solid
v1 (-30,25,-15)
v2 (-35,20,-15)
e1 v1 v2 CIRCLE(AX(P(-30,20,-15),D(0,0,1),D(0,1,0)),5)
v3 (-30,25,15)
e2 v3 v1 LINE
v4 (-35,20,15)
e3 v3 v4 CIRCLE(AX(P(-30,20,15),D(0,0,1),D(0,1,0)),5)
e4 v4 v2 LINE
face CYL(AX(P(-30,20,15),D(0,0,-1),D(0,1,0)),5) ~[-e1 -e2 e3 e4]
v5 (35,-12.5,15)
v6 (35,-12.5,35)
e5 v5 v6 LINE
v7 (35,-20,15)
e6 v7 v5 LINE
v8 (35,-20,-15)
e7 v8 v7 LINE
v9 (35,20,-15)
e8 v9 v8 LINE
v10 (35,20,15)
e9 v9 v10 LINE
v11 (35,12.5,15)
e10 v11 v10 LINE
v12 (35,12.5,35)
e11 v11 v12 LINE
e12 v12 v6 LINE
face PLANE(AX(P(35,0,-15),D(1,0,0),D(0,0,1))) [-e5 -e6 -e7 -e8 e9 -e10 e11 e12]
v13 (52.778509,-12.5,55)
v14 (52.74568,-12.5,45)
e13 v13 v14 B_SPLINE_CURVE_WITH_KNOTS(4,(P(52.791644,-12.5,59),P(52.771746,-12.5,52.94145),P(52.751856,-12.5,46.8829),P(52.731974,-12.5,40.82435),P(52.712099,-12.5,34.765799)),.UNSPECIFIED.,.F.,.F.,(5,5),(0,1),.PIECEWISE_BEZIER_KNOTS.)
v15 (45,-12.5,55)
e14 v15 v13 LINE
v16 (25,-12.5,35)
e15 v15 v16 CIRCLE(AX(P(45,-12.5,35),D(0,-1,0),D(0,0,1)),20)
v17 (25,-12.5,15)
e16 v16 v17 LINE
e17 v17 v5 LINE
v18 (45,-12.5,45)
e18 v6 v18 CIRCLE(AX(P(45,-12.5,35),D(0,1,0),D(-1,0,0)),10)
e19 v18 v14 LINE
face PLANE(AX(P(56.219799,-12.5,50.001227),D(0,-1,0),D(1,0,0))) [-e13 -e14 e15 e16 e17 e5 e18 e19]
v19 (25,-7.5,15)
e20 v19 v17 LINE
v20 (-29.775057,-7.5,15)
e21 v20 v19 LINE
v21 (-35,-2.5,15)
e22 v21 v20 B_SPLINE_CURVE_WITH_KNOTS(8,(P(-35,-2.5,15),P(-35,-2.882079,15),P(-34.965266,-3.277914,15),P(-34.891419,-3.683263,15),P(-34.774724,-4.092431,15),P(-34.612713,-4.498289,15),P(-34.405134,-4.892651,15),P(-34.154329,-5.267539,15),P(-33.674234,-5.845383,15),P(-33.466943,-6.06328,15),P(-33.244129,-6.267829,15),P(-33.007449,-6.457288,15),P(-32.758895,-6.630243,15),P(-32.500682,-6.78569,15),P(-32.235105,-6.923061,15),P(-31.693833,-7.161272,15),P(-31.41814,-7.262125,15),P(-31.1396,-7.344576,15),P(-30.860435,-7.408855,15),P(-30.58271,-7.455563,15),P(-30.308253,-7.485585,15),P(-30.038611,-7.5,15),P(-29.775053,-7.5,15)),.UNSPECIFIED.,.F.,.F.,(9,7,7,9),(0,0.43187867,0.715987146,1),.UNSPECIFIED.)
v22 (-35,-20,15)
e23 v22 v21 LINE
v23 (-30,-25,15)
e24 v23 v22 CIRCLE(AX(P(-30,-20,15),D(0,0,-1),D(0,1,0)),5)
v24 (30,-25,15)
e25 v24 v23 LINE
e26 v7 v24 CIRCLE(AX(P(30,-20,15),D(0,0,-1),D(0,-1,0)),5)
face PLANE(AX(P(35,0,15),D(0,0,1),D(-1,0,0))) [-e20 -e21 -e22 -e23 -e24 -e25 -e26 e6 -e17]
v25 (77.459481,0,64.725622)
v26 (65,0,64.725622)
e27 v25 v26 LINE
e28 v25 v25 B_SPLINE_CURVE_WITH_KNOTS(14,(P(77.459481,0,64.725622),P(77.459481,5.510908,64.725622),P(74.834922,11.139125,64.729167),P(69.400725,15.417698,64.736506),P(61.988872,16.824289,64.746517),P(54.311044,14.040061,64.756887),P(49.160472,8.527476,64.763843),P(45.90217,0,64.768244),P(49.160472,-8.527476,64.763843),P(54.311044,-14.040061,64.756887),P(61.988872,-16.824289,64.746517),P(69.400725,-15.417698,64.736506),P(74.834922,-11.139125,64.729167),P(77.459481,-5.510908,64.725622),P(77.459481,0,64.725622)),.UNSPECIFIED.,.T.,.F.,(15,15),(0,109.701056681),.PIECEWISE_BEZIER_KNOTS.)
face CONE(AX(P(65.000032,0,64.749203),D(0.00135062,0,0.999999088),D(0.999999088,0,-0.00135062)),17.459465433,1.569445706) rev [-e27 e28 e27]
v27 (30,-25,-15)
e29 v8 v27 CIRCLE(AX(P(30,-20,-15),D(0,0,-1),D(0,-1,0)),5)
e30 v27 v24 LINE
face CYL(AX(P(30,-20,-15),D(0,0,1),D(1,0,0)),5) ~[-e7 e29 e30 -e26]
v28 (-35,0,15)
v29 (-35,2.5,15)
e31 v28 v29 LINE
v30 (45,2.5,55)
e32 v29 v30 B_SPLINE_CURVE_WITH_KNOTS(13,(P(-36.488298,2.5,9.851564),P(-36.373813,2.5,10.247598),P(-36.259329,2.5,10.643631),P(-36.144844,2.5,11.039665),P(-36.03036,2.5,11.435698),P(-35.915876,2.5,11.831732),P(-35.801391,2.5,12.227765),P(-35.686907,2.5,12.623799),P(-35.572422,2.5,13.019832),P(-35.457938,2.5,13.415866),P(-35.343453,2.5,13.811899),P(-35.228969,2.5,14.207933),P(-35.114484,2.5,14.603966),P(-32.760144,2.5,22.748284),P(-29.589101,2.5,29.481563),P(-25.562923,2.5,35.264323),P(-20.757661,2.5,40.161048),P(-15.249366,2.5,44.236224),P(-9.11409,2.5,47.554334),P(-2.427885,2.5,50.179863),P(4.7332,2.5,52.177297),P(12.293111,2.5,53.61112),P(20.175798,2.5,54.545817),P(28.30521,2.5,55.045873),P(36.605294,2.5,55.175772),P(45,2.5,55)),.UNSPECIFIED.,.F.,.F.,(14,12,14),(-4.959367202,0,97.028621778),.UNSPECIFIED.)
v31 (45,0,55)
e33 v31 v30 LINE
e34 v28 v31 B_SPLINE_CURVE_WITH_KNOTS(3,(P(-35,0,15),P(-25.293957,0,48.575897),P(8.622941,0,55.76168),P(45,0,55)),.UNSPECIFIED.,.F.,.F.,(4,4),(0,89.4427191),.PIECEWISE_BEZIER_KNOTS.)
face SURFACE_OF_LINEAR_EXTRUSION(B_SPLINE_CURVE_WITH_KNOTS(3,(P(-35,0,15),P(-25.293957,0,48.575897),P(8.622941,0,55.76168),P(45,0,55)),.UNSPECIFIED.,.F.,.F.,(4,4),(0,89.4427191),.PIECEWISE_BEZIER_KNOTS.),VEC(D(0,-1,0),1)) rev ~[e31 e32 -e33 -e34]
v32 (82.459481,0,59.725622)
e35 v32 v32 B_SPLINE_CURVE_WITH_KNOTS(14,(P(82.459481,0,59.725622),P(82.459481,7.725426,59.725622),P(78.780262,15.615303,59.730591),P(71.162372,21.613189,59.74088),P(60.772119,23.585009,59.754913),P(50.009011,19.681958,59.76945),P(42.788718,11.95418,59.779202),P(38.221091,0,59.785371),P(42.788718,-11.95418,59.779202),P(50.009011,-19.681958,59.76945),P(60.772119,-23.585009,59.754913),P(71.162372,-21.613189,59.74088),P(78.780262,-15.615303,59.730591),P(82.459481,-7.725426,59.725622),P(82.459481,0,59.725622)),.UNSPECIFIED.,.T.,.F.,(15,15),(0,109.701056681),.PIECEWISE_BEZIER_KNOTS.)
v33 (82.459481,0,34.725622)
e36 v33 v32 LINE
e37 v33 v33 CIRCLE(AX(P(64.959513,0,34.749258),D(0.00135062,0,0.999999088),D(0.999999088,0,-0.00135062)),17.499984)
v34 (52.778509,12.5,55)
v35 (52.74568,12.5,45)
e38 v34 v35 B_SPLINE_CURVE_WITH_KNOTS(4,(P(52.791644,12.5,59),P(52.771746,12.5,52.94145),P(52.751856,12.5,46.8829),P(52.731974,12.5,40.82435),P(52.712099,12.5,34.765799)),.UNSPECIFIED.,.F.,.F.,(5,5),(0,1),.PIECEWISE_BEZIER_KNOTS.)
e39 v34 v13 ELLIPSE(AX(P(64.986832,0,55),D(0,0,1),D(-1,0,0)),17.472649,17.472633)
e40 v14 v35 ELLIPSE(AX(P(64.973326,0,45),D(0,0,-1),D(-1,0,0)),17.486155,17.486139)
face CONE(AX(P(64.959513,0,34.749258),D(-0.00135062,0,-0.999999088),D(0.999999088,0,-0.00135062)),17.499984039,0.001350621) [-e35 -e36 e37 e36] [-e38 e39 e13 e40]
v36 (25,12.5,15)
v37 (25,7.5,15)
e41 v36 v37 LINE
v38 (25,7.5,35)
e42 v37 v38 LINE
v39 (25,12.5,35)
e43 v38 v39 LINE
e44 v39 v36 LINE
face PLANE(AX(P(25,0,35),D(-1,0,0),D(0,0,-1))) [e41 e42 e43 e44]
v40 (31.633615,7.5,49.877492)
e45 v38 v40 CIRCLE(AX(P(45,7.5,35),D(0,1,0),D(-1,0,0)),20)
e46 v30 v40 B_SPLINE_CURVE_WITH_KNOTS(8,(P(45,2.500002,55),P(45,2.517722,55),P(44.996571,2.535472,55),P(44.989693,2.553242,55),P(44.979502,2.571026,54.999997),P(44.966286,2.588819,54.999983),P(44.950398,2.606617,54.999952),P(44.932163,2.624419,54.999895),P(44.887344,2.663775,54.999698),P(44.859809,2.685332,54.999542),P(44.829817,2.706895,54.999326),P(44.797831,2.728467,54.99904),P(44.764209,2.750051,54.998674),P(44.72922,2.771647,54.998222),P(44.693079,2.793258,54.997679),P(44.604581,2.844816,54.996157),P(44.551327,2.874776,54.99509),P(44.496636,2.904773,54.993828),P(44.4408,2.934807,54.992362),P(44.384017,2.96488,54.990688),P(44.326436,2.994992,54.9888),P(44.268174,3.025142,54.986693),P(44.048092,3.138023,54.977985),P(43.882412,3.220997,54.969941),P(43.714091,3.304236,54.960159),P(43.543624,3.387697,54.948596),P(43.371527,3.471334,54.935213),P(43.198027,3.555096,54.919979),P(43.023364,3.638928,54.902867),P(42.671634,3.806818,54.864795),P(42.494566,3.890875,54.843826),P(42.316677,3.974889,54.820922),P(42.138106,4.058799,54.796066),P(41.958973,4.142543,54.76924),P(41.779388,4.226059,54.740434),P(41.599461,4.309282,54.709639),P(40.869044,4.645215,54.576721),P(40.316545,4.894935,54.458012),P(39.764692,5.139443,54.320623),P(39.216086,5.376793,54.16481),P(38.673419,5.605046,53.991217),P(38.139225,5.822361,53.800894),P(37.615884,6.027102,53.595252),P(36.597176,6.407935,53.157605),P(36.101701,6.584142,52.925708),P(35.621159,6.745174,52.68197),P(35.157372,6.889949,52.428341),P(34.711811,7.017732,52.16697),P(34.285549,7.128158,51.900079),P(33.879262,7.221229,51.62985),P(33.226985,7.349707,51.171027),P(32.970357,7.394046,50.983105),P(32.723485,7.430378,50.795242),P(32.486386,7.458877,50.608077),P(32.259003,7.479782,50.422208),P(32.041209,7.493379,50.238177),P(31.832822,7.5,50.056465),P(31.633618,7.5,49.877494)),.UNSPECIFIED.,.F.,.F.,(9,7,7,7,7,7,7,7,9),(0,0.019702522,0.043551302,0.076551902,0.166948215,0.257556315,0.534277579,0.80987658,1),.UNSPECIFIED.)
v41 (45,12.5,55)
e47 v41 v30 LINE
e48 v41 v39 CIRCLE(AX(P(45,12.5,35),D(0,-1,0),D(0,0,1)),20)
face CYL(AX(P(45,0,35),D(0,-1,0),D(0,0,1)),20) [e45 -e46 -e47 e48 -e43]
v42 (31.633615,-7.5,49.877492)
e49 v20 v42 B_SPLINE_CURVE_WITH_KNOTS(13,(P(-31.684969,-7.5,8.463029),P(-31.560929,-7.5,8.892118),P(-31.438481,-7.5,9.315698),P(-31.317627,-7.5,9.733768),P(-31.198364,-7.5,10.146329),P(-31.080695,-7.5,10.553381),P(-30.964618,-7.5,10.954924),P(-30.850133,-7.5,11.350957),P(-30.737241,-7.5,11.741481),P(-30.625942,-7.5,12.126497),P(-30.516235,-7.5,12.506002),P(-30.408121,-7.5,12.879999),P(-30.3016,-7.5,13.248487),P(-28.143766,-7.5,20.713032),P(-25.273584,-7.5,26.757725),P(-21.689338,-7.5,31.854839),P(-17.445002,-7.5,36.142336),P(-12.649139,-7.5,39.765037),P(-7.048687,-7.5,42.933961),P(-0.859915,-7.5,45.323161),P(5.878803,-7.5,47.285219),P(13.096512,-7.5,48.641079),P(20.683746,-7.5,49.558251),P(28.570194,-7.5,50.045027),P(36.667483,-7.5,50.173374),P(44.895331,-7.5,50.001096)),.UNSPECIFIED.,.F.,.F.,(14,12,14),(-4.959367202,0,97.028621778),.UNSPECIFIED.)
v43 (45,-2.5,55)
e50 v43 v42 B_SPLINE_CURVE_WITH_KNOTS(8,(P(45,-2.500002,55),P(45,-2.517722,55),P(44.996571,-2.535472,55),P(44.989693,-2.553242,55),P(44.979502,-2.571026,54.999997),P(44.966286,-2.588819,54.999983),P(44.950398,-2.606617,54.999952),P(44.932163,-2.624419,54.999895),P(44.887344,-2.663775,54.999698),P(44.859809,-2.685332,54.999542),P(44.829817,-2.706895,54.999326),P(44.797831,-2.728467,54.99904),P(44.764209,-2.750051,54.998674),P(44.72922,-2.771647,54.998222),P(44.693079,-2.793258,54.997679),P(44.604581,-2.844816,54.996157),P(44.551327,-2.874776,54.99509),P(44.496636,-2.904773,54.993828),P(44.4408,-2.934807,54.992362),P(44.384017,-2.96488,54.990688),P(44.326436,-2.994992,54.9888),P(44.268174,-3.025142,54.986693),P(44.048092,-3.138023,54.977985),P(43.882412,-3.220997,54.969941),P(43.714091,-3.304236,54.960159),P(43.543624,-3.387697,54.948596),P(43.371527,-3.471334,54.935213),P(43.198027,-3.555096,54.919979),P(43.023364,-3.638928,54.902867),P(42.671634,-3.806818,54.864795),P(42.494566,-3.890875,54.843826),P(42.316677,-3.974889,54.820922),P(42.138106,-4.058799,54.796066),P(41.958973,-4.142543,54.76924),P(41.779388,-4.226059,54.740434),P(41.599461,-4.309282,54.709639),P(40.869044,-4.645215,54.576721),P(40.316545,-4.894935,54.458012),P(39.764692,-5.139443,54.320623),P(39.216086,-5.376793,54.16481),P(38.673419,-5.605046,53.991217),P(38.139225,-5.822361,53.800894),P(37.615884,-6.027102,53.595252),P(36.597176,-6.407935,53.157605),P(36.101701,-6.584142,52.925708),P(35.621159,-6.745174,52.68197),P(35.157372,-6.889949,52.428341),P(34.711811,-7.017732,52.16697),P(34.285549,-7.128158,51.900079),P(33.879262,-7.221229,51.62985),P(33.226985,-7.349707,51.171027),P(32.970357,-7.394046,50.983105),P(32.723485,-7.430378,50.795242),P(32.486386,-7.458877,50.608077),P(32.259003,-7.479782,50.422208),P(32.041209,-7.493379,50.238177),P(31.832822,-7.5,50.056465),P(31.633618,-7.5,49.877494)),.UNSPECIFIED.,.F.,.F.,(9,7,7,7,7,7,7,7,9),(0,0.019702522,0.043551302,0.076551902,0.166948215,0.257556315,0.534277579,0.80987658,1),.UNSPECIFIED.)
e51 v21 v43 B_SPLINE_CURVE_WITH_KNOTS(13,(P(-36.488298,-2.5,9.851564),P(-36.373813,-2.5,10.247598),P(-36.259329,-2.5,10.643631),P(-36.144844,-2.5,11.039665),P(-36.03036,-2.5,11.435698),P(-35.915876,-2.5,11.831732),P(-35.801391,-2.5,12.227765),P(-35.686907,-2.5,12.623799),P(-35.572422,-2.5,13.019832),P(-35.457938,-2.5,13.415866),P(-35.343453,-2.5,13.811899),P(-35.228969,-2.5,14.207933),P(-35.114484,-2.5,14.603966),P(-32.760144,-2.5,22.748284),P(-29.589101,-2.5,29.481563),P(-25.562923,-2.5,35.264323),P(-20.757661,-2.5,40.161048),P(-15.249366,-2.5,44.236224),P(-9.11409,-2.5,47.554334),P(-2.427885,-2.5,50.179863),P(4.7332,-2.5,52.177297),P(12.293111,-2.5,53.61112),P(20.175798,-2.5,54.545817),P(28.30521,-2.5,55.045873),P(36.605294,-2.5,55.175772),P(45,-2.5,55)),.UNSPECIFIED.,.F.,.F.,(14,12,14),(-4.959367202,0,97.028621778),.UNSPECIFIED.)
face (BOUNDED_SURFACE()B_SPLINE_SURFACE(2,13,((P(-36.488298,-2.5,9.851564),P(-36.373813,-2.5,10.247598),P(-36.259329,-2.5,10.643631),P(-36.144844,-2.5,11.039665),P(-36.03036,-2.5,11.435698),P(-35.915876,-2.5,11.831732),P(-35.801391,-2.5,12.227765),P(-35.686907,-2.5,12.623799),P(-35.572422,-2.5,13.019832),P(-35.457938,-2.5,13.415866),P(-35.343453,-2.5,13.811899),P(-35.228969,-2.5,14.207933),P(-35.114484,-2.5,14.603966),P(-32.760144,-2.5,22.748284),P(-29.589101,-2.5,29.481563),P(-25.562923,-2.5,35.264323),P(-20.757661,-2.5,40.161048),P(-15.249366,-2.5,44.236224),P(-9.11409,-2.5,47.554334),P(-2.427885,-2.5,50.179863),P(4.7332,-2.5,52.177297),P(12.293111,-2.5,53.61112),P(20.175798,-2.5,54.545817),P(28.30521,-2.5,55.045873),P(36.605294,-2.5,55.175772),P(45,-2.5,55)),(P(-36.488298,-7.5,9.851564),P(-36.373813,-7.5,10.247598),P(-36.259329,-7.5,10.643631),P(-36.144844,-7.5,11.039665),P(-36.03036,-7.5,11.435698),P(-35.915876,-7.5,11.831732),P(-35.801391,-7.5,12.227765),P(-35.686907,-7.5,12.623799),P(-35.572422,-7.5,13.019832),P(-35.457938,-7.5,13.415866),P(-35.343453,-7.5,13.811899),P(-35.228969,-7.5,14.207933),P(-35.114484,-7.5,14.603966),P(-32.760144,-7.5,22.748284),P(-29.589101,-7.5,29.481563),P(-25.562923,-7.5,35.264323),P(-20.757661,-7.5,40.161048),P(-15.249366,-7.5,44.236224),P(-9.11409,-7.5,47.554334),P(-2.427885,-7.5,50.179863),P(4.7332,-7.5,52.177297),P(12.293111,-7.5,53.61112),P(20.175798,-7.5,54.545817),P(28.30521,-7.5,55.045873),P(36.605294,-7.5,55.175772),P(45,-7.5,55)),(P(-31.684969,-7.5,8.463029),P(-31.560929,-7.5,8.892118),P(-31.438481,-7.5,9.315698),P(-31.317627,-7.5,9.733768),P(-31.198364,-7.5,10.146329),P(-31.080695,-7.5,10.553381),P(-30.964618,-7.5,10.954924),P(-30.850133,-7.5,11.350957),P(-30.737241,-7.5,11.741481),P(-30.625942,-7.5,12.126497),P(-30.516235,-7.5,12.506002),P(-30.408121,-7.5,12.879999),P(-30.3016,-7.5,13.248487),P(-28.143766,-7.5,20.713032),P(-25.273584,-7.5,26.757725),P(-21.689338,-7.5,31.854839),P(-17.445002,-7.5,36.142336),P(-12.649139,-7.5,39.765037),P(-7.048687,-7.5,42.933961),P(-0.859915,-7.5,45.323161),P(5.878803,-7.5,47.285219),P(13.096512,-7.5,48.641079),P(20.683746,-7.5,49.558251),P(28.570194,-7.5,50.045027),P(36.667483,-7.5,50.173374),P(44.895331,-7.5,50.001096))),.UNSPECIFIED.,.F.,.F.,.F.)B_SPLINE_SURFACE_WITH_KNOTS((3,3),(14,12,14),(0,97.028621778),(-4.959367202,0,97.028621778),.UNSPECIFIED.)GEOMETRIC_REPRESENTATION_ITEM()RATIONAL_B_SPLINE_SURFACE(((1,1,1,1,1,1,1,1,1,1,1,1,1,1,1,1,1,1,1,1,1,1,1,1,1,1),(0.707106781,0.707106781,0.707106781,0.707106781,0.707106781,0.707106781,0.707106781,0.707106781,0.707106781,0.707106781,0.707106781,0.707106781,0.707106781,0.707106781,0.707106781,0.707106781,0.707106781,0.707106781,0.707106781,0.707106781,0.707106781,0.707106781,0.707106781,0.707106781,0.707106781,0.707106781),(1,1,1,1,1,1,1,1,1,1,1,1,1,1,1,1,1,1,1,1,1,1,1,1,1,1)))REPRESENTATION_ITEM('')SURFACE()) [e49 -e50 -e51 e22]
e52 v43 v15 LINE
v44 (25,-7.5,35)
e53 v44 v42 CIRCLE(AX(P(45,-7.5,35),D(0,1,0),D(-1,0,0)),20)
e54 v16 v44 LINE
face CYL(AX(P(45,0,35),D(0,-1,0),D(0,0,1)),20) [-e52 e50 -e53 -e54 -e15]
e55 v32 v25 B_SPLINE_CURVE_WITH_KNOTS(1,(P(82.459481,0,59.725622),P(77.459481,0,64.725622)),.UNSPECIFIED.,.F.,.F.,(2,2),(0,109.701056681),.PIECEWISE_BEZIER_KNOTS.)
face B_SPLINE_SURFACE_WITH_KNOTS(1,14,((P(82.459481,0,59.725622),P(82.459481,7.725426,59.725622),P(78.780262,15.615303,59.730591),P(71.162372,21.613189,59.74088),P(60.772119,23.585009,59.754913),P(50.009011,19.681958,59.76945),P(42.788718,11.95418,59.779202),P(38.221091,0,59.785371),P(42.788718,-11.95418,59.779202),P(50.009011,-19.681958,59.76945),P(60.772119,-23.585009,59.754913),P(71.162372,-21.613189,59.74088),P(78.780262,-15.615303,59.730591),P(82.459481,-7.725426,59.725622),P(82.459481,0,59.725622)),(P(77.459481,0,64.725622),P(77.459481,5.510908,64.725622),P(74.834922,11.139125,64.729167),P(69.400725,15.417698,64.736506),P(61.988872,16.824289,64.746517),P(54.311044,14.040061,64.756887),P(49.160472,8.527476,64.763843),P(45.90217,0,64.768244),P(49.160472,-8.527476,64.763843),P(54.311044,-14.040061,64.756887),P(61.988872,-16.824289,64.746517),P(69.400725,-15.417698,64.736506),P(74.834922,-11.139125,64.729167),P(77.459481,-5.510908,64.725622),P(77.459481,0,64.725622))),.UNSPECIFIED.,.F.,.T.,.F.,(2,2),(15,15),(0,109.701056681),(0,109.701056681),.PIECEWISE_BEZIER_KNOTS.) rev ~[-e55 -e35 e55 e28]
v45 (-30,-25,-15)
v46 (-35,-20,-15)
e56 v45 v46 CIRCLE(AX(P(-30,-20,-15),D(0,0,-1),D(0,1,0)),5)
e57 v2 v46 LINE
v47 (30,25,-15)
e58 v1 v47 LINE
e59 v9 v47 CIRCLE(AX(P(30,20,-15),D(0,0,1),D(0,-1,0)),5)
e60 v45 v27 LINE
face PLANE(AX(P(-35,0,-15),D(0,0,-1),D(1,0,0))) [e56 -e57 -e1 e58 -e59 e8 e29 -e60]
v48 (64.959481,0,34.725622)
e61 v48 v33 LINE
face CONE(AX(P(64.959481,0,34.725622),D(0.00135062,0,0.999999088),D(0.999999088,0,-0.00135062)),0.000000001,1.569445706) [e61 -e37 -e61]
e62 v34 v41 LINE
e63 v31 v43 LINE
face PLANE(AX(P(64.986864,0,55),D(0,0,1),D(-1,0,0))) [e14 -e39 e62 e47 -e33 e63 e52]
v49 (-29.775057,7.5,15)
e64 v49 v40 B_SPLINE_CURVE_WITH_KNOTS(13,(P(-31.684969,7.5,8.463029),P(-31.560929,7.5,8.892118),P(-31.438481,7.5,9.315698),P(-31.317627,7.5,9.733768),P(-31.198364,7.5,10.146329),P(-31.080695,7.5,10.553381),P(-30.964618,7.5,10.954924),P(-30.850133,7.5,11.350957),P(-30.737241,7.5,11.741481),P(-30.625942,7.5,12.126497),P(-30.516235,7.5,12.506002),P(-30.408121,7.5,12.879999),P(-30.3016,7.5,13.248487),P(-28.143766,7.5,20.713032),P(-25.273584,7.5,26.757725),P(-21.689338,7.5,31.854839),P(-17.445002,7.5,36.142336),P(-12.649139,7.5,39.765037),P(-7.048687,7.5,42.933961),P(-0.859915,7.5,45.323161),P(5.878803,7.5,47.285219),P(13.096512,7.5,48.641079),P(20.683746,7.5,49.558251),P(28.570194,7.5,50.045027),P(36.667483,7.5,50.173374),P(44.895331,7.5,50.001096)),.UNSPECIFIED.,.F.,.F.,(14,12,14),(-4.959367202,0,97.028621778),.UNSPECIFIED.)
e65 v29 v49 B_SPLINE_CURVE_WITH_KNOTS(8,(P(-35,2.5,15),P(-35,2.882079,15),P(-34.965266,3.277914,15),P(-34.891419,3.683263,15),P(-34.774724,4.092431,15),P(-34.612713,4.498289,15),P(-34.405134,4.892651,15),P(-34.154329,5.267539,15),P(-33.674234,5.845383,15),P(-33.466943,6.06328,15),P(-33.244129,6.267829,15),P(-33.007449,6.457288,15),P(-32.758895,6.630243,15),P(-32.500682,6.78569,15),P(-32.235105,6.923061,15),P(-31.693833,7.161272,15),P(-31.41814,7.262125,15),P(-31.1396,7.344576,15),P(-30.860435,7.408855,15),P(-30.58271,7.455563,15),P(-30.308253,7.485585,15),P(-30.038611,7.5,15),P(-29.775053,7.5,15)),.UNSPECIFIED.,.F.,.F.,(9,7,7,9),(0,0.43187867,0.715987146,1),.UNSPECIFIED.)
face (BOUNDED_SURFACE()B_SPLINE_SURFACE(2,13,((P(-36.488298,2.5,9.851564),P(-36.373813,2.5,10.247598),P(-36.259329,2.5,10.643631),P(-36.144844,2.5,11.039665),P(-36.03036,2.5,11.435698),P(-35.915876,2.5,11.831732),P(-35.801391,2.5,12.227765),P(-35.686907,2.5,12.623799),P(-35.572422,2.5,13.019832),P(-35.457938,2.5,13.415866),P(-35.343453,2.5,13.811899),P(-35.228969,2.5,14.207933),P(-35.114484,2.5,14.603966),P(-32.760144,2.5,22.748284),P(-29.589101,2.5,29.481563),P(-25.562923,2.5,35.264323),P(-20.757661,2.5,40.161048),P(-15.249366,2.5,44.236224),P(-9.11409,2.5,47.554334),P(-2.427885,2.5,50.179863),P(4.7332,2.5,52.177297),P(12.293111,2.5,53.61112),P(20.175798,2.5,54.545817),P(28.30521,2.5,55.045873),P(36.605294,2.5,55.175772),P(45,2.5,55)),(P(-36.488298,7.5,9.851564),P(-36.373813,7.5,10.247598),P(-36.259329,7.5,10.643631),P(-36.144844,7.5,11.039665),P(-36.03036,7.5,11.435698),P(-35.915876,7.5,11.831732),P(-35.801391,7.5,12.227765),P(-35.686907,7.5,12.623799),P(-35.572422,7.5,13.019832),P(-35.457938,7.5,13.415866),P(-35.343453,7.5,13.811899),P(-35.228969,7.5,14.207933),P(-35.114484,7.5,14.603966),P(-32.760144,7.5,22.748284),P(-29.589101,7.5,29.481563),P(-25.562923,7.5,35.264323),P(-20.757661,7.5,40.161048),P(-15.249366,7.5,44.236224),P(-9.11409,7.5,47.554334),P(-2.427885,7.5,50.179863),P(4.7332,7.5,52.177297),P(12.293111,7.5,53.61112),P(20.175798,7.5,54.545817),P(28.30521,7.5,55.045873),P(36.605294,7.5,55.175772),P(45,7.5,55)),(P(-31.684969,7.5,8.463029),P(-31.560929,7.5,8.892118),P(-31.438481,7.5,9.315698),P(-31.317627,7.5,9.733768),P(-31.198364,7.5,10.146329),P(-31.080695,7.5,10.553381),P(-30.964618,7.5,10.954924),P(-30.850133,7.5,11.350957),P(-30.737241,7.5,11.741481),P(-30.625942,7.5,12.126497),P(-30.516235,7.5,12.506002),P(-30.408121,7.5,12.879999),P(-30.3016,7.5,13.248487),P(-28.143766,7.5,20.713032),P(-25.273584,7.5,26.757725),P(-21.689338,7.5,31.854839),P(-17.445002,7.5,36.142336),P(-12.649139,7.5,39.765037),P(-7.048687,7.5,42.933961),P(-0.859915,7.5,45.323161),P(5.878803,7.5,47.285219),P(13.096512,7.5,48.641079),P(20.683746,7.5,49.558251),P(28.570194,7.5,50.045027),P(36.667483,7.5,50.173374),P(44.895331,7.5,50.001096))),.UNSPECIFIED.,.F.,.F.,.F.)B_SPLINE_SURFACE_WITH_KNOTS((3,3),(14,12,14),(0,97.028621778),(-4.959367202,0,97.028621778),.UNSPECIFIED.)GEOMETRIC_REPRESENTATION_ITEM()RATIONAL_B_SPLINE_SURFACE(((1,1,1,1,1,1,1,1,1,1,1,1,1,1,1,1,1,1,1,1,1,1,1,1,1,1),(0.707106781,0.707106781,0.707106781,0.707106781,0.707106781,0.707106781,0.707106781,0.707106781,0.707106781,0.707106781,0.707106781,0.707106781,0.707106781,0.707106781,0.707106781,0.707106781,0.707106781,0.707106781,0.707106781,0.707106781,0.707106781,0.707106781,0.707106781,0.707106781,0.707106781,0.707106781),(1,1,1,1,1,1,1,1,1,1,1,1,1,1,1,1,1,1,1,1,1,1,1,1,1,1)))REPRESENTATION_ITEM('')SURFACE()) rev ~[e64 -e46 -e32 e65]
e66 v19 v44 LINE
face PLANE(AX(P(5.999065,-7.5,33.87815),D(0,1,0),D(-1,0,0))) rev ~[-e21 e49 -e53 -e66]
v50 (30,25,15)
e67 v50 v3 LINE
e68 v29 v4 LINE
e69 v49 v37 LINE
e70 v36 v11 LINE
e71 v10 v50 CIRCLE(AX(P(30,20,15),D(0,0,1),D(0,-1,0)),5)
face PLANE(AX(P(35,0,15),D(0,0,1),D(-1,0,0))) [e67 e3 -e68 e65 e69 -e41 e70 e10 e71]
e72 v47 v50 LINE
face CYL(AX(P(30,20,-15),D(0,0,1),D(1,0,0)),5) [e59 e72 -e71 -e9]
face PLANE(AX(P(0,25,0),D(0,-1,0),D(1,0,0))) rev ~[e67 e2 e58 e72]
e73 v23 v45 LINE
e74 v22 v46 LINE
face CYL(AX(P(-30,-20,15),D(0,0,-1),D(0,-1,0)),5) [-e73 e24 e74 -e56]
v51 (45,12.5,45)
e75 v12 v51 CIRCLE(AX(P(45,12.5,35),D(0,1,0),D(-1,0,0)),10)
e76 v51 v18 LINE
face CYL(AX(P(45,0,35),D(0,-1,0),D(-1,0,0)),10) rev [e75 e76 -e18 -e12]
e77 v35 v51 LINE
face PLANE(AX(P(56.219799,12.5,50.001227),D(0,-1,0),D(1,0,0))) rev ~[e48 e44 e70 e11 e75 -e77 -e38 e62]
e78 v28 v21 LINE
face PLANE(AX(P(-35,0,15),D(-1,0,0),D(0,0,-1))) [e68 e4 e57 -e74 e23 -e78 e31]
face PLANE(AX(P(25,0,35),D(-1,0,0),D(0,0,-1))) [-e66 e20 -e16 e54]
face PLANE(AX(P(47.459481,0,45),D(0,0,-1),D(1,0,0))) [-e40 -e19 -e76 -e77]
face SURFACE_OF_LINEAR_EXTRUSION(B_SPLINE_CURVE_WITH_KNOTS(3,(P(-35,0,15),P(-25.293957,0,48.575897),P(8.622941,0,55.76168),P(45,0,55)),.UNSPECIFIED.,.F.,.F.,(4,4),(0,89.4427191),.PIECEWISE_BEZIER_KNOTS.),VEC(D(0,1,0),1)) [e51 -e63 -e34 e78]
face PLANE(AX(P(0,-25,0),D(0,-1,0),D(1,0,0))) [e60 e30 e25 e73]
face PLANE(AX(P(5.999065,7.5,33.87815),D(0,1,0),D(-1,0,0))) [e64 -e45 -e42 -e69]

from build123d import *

# Parameters (mm, degrees)
F1_DEPTH = 25
F2_DEPTH = 7.5
F3_DEPTH = 12.5
F4_DEPTH = 12.5
F6_R     = 5
F7_SIZE  = 5


with BuildPart() as f1:
    # F0 (on Front) → F1 (new body, symmetric)
    with BuildSketch(Plane.XZ):
        Polygon((25, 15), (-35, 15), (-35, -15), (35, -15), (35, 15), align=None)
    extrude(amount=F1_DEPTH, both=True)

    # F0 (on Front) → F2 (join, symmetric)
    with BuildSketch(Plane.XZ):
        with BuildLine():
            add(Edge.make_bspline(
                [(-35, 15), (-25.293957442, 48.5758967698), (8.6229406297, 55.761680007), (45, 55)],
                knots=[0, 0, 0, 0, 89.4427191, 89.4427191, 89.4427191, 89.4427191], degree=3))
            Line((-35, 15), (25, 15))
            Line((25, 15), (25, 35))
            ThreePointArc((25, 35), (30.8578643763, 49.1421356237), (45, 55))
        make_face()
    extrude(amount=F2_DEPTH, both=True)

    # F0 (on Front) → F3 (join, symmetric)
    with BuildSketch(Plane.XZ):
        with BuildLine():
            Line((25, 35), (25, 15))
            Line((25, 15), (35, 15))
            Line((35, 15), (35, 35))
            ThreePointArc((35, 35), (37.9289321881, 42.0710678119), (45, 45))
            Line((45, 45), (47.4594813585, 45))
            Line((47.4594813585, 45), (47.4594813585, 55))
            Line((47.4594813585, 55), (45, 55))
            ThreePointArc((45, 55), (30.8578643763, 49.1421356237), (25, 35))
        make_face()
    extrude(amount=F3_DEPTH, both=True)

    # F0 (on Front) → F4 (join, symmetric)
    with BuildSketch(Plane.XZ):
        Polygon((64.9868643671, 55), (47.4594813585, 55), (47.4594813585, 45), (64.9733581532, 45), align=None)
    extrude(amount=F4_DEPTH, both=True)

    # F0 (on Front) → F5 (revolve)
    with BuildSketch(Plane.XZ):
        Polygon((65, 64.7256219387), (64.9868643671, 55), (64.9733581532, 45), (64.9594813585, 34.7256219387), (82.4594813585, 34.7256219387), (82.4594813585, 64.7256219387), align=None)
    revolve(axis=Axis((64.9797406793, 0, 49.7256219387), (0.0013506202, 0, 0.9999990879)))

    # F6
    f6_edges = [f1.edges().sort_by_distance(p)[0] for p in [
        (35, -25, 0),
        (-35, -25, 0),
        (-35, 25, 0),
        (35, 25, 0),
        (-2.822986, -7.5, 48.736199),
        (-2.822986, 7.5, 48.736199),
    ]]
    fillet(f6_edges, radius=F6_R)

    # F7
    f7_edges = [f1.edges().sort_by_distance(p)[0] for p in [
        (47.540582, 0, 64.772784),
    ]]
    chamfer(f7_edges, length=F7_SIZE)


solid = f1.part
